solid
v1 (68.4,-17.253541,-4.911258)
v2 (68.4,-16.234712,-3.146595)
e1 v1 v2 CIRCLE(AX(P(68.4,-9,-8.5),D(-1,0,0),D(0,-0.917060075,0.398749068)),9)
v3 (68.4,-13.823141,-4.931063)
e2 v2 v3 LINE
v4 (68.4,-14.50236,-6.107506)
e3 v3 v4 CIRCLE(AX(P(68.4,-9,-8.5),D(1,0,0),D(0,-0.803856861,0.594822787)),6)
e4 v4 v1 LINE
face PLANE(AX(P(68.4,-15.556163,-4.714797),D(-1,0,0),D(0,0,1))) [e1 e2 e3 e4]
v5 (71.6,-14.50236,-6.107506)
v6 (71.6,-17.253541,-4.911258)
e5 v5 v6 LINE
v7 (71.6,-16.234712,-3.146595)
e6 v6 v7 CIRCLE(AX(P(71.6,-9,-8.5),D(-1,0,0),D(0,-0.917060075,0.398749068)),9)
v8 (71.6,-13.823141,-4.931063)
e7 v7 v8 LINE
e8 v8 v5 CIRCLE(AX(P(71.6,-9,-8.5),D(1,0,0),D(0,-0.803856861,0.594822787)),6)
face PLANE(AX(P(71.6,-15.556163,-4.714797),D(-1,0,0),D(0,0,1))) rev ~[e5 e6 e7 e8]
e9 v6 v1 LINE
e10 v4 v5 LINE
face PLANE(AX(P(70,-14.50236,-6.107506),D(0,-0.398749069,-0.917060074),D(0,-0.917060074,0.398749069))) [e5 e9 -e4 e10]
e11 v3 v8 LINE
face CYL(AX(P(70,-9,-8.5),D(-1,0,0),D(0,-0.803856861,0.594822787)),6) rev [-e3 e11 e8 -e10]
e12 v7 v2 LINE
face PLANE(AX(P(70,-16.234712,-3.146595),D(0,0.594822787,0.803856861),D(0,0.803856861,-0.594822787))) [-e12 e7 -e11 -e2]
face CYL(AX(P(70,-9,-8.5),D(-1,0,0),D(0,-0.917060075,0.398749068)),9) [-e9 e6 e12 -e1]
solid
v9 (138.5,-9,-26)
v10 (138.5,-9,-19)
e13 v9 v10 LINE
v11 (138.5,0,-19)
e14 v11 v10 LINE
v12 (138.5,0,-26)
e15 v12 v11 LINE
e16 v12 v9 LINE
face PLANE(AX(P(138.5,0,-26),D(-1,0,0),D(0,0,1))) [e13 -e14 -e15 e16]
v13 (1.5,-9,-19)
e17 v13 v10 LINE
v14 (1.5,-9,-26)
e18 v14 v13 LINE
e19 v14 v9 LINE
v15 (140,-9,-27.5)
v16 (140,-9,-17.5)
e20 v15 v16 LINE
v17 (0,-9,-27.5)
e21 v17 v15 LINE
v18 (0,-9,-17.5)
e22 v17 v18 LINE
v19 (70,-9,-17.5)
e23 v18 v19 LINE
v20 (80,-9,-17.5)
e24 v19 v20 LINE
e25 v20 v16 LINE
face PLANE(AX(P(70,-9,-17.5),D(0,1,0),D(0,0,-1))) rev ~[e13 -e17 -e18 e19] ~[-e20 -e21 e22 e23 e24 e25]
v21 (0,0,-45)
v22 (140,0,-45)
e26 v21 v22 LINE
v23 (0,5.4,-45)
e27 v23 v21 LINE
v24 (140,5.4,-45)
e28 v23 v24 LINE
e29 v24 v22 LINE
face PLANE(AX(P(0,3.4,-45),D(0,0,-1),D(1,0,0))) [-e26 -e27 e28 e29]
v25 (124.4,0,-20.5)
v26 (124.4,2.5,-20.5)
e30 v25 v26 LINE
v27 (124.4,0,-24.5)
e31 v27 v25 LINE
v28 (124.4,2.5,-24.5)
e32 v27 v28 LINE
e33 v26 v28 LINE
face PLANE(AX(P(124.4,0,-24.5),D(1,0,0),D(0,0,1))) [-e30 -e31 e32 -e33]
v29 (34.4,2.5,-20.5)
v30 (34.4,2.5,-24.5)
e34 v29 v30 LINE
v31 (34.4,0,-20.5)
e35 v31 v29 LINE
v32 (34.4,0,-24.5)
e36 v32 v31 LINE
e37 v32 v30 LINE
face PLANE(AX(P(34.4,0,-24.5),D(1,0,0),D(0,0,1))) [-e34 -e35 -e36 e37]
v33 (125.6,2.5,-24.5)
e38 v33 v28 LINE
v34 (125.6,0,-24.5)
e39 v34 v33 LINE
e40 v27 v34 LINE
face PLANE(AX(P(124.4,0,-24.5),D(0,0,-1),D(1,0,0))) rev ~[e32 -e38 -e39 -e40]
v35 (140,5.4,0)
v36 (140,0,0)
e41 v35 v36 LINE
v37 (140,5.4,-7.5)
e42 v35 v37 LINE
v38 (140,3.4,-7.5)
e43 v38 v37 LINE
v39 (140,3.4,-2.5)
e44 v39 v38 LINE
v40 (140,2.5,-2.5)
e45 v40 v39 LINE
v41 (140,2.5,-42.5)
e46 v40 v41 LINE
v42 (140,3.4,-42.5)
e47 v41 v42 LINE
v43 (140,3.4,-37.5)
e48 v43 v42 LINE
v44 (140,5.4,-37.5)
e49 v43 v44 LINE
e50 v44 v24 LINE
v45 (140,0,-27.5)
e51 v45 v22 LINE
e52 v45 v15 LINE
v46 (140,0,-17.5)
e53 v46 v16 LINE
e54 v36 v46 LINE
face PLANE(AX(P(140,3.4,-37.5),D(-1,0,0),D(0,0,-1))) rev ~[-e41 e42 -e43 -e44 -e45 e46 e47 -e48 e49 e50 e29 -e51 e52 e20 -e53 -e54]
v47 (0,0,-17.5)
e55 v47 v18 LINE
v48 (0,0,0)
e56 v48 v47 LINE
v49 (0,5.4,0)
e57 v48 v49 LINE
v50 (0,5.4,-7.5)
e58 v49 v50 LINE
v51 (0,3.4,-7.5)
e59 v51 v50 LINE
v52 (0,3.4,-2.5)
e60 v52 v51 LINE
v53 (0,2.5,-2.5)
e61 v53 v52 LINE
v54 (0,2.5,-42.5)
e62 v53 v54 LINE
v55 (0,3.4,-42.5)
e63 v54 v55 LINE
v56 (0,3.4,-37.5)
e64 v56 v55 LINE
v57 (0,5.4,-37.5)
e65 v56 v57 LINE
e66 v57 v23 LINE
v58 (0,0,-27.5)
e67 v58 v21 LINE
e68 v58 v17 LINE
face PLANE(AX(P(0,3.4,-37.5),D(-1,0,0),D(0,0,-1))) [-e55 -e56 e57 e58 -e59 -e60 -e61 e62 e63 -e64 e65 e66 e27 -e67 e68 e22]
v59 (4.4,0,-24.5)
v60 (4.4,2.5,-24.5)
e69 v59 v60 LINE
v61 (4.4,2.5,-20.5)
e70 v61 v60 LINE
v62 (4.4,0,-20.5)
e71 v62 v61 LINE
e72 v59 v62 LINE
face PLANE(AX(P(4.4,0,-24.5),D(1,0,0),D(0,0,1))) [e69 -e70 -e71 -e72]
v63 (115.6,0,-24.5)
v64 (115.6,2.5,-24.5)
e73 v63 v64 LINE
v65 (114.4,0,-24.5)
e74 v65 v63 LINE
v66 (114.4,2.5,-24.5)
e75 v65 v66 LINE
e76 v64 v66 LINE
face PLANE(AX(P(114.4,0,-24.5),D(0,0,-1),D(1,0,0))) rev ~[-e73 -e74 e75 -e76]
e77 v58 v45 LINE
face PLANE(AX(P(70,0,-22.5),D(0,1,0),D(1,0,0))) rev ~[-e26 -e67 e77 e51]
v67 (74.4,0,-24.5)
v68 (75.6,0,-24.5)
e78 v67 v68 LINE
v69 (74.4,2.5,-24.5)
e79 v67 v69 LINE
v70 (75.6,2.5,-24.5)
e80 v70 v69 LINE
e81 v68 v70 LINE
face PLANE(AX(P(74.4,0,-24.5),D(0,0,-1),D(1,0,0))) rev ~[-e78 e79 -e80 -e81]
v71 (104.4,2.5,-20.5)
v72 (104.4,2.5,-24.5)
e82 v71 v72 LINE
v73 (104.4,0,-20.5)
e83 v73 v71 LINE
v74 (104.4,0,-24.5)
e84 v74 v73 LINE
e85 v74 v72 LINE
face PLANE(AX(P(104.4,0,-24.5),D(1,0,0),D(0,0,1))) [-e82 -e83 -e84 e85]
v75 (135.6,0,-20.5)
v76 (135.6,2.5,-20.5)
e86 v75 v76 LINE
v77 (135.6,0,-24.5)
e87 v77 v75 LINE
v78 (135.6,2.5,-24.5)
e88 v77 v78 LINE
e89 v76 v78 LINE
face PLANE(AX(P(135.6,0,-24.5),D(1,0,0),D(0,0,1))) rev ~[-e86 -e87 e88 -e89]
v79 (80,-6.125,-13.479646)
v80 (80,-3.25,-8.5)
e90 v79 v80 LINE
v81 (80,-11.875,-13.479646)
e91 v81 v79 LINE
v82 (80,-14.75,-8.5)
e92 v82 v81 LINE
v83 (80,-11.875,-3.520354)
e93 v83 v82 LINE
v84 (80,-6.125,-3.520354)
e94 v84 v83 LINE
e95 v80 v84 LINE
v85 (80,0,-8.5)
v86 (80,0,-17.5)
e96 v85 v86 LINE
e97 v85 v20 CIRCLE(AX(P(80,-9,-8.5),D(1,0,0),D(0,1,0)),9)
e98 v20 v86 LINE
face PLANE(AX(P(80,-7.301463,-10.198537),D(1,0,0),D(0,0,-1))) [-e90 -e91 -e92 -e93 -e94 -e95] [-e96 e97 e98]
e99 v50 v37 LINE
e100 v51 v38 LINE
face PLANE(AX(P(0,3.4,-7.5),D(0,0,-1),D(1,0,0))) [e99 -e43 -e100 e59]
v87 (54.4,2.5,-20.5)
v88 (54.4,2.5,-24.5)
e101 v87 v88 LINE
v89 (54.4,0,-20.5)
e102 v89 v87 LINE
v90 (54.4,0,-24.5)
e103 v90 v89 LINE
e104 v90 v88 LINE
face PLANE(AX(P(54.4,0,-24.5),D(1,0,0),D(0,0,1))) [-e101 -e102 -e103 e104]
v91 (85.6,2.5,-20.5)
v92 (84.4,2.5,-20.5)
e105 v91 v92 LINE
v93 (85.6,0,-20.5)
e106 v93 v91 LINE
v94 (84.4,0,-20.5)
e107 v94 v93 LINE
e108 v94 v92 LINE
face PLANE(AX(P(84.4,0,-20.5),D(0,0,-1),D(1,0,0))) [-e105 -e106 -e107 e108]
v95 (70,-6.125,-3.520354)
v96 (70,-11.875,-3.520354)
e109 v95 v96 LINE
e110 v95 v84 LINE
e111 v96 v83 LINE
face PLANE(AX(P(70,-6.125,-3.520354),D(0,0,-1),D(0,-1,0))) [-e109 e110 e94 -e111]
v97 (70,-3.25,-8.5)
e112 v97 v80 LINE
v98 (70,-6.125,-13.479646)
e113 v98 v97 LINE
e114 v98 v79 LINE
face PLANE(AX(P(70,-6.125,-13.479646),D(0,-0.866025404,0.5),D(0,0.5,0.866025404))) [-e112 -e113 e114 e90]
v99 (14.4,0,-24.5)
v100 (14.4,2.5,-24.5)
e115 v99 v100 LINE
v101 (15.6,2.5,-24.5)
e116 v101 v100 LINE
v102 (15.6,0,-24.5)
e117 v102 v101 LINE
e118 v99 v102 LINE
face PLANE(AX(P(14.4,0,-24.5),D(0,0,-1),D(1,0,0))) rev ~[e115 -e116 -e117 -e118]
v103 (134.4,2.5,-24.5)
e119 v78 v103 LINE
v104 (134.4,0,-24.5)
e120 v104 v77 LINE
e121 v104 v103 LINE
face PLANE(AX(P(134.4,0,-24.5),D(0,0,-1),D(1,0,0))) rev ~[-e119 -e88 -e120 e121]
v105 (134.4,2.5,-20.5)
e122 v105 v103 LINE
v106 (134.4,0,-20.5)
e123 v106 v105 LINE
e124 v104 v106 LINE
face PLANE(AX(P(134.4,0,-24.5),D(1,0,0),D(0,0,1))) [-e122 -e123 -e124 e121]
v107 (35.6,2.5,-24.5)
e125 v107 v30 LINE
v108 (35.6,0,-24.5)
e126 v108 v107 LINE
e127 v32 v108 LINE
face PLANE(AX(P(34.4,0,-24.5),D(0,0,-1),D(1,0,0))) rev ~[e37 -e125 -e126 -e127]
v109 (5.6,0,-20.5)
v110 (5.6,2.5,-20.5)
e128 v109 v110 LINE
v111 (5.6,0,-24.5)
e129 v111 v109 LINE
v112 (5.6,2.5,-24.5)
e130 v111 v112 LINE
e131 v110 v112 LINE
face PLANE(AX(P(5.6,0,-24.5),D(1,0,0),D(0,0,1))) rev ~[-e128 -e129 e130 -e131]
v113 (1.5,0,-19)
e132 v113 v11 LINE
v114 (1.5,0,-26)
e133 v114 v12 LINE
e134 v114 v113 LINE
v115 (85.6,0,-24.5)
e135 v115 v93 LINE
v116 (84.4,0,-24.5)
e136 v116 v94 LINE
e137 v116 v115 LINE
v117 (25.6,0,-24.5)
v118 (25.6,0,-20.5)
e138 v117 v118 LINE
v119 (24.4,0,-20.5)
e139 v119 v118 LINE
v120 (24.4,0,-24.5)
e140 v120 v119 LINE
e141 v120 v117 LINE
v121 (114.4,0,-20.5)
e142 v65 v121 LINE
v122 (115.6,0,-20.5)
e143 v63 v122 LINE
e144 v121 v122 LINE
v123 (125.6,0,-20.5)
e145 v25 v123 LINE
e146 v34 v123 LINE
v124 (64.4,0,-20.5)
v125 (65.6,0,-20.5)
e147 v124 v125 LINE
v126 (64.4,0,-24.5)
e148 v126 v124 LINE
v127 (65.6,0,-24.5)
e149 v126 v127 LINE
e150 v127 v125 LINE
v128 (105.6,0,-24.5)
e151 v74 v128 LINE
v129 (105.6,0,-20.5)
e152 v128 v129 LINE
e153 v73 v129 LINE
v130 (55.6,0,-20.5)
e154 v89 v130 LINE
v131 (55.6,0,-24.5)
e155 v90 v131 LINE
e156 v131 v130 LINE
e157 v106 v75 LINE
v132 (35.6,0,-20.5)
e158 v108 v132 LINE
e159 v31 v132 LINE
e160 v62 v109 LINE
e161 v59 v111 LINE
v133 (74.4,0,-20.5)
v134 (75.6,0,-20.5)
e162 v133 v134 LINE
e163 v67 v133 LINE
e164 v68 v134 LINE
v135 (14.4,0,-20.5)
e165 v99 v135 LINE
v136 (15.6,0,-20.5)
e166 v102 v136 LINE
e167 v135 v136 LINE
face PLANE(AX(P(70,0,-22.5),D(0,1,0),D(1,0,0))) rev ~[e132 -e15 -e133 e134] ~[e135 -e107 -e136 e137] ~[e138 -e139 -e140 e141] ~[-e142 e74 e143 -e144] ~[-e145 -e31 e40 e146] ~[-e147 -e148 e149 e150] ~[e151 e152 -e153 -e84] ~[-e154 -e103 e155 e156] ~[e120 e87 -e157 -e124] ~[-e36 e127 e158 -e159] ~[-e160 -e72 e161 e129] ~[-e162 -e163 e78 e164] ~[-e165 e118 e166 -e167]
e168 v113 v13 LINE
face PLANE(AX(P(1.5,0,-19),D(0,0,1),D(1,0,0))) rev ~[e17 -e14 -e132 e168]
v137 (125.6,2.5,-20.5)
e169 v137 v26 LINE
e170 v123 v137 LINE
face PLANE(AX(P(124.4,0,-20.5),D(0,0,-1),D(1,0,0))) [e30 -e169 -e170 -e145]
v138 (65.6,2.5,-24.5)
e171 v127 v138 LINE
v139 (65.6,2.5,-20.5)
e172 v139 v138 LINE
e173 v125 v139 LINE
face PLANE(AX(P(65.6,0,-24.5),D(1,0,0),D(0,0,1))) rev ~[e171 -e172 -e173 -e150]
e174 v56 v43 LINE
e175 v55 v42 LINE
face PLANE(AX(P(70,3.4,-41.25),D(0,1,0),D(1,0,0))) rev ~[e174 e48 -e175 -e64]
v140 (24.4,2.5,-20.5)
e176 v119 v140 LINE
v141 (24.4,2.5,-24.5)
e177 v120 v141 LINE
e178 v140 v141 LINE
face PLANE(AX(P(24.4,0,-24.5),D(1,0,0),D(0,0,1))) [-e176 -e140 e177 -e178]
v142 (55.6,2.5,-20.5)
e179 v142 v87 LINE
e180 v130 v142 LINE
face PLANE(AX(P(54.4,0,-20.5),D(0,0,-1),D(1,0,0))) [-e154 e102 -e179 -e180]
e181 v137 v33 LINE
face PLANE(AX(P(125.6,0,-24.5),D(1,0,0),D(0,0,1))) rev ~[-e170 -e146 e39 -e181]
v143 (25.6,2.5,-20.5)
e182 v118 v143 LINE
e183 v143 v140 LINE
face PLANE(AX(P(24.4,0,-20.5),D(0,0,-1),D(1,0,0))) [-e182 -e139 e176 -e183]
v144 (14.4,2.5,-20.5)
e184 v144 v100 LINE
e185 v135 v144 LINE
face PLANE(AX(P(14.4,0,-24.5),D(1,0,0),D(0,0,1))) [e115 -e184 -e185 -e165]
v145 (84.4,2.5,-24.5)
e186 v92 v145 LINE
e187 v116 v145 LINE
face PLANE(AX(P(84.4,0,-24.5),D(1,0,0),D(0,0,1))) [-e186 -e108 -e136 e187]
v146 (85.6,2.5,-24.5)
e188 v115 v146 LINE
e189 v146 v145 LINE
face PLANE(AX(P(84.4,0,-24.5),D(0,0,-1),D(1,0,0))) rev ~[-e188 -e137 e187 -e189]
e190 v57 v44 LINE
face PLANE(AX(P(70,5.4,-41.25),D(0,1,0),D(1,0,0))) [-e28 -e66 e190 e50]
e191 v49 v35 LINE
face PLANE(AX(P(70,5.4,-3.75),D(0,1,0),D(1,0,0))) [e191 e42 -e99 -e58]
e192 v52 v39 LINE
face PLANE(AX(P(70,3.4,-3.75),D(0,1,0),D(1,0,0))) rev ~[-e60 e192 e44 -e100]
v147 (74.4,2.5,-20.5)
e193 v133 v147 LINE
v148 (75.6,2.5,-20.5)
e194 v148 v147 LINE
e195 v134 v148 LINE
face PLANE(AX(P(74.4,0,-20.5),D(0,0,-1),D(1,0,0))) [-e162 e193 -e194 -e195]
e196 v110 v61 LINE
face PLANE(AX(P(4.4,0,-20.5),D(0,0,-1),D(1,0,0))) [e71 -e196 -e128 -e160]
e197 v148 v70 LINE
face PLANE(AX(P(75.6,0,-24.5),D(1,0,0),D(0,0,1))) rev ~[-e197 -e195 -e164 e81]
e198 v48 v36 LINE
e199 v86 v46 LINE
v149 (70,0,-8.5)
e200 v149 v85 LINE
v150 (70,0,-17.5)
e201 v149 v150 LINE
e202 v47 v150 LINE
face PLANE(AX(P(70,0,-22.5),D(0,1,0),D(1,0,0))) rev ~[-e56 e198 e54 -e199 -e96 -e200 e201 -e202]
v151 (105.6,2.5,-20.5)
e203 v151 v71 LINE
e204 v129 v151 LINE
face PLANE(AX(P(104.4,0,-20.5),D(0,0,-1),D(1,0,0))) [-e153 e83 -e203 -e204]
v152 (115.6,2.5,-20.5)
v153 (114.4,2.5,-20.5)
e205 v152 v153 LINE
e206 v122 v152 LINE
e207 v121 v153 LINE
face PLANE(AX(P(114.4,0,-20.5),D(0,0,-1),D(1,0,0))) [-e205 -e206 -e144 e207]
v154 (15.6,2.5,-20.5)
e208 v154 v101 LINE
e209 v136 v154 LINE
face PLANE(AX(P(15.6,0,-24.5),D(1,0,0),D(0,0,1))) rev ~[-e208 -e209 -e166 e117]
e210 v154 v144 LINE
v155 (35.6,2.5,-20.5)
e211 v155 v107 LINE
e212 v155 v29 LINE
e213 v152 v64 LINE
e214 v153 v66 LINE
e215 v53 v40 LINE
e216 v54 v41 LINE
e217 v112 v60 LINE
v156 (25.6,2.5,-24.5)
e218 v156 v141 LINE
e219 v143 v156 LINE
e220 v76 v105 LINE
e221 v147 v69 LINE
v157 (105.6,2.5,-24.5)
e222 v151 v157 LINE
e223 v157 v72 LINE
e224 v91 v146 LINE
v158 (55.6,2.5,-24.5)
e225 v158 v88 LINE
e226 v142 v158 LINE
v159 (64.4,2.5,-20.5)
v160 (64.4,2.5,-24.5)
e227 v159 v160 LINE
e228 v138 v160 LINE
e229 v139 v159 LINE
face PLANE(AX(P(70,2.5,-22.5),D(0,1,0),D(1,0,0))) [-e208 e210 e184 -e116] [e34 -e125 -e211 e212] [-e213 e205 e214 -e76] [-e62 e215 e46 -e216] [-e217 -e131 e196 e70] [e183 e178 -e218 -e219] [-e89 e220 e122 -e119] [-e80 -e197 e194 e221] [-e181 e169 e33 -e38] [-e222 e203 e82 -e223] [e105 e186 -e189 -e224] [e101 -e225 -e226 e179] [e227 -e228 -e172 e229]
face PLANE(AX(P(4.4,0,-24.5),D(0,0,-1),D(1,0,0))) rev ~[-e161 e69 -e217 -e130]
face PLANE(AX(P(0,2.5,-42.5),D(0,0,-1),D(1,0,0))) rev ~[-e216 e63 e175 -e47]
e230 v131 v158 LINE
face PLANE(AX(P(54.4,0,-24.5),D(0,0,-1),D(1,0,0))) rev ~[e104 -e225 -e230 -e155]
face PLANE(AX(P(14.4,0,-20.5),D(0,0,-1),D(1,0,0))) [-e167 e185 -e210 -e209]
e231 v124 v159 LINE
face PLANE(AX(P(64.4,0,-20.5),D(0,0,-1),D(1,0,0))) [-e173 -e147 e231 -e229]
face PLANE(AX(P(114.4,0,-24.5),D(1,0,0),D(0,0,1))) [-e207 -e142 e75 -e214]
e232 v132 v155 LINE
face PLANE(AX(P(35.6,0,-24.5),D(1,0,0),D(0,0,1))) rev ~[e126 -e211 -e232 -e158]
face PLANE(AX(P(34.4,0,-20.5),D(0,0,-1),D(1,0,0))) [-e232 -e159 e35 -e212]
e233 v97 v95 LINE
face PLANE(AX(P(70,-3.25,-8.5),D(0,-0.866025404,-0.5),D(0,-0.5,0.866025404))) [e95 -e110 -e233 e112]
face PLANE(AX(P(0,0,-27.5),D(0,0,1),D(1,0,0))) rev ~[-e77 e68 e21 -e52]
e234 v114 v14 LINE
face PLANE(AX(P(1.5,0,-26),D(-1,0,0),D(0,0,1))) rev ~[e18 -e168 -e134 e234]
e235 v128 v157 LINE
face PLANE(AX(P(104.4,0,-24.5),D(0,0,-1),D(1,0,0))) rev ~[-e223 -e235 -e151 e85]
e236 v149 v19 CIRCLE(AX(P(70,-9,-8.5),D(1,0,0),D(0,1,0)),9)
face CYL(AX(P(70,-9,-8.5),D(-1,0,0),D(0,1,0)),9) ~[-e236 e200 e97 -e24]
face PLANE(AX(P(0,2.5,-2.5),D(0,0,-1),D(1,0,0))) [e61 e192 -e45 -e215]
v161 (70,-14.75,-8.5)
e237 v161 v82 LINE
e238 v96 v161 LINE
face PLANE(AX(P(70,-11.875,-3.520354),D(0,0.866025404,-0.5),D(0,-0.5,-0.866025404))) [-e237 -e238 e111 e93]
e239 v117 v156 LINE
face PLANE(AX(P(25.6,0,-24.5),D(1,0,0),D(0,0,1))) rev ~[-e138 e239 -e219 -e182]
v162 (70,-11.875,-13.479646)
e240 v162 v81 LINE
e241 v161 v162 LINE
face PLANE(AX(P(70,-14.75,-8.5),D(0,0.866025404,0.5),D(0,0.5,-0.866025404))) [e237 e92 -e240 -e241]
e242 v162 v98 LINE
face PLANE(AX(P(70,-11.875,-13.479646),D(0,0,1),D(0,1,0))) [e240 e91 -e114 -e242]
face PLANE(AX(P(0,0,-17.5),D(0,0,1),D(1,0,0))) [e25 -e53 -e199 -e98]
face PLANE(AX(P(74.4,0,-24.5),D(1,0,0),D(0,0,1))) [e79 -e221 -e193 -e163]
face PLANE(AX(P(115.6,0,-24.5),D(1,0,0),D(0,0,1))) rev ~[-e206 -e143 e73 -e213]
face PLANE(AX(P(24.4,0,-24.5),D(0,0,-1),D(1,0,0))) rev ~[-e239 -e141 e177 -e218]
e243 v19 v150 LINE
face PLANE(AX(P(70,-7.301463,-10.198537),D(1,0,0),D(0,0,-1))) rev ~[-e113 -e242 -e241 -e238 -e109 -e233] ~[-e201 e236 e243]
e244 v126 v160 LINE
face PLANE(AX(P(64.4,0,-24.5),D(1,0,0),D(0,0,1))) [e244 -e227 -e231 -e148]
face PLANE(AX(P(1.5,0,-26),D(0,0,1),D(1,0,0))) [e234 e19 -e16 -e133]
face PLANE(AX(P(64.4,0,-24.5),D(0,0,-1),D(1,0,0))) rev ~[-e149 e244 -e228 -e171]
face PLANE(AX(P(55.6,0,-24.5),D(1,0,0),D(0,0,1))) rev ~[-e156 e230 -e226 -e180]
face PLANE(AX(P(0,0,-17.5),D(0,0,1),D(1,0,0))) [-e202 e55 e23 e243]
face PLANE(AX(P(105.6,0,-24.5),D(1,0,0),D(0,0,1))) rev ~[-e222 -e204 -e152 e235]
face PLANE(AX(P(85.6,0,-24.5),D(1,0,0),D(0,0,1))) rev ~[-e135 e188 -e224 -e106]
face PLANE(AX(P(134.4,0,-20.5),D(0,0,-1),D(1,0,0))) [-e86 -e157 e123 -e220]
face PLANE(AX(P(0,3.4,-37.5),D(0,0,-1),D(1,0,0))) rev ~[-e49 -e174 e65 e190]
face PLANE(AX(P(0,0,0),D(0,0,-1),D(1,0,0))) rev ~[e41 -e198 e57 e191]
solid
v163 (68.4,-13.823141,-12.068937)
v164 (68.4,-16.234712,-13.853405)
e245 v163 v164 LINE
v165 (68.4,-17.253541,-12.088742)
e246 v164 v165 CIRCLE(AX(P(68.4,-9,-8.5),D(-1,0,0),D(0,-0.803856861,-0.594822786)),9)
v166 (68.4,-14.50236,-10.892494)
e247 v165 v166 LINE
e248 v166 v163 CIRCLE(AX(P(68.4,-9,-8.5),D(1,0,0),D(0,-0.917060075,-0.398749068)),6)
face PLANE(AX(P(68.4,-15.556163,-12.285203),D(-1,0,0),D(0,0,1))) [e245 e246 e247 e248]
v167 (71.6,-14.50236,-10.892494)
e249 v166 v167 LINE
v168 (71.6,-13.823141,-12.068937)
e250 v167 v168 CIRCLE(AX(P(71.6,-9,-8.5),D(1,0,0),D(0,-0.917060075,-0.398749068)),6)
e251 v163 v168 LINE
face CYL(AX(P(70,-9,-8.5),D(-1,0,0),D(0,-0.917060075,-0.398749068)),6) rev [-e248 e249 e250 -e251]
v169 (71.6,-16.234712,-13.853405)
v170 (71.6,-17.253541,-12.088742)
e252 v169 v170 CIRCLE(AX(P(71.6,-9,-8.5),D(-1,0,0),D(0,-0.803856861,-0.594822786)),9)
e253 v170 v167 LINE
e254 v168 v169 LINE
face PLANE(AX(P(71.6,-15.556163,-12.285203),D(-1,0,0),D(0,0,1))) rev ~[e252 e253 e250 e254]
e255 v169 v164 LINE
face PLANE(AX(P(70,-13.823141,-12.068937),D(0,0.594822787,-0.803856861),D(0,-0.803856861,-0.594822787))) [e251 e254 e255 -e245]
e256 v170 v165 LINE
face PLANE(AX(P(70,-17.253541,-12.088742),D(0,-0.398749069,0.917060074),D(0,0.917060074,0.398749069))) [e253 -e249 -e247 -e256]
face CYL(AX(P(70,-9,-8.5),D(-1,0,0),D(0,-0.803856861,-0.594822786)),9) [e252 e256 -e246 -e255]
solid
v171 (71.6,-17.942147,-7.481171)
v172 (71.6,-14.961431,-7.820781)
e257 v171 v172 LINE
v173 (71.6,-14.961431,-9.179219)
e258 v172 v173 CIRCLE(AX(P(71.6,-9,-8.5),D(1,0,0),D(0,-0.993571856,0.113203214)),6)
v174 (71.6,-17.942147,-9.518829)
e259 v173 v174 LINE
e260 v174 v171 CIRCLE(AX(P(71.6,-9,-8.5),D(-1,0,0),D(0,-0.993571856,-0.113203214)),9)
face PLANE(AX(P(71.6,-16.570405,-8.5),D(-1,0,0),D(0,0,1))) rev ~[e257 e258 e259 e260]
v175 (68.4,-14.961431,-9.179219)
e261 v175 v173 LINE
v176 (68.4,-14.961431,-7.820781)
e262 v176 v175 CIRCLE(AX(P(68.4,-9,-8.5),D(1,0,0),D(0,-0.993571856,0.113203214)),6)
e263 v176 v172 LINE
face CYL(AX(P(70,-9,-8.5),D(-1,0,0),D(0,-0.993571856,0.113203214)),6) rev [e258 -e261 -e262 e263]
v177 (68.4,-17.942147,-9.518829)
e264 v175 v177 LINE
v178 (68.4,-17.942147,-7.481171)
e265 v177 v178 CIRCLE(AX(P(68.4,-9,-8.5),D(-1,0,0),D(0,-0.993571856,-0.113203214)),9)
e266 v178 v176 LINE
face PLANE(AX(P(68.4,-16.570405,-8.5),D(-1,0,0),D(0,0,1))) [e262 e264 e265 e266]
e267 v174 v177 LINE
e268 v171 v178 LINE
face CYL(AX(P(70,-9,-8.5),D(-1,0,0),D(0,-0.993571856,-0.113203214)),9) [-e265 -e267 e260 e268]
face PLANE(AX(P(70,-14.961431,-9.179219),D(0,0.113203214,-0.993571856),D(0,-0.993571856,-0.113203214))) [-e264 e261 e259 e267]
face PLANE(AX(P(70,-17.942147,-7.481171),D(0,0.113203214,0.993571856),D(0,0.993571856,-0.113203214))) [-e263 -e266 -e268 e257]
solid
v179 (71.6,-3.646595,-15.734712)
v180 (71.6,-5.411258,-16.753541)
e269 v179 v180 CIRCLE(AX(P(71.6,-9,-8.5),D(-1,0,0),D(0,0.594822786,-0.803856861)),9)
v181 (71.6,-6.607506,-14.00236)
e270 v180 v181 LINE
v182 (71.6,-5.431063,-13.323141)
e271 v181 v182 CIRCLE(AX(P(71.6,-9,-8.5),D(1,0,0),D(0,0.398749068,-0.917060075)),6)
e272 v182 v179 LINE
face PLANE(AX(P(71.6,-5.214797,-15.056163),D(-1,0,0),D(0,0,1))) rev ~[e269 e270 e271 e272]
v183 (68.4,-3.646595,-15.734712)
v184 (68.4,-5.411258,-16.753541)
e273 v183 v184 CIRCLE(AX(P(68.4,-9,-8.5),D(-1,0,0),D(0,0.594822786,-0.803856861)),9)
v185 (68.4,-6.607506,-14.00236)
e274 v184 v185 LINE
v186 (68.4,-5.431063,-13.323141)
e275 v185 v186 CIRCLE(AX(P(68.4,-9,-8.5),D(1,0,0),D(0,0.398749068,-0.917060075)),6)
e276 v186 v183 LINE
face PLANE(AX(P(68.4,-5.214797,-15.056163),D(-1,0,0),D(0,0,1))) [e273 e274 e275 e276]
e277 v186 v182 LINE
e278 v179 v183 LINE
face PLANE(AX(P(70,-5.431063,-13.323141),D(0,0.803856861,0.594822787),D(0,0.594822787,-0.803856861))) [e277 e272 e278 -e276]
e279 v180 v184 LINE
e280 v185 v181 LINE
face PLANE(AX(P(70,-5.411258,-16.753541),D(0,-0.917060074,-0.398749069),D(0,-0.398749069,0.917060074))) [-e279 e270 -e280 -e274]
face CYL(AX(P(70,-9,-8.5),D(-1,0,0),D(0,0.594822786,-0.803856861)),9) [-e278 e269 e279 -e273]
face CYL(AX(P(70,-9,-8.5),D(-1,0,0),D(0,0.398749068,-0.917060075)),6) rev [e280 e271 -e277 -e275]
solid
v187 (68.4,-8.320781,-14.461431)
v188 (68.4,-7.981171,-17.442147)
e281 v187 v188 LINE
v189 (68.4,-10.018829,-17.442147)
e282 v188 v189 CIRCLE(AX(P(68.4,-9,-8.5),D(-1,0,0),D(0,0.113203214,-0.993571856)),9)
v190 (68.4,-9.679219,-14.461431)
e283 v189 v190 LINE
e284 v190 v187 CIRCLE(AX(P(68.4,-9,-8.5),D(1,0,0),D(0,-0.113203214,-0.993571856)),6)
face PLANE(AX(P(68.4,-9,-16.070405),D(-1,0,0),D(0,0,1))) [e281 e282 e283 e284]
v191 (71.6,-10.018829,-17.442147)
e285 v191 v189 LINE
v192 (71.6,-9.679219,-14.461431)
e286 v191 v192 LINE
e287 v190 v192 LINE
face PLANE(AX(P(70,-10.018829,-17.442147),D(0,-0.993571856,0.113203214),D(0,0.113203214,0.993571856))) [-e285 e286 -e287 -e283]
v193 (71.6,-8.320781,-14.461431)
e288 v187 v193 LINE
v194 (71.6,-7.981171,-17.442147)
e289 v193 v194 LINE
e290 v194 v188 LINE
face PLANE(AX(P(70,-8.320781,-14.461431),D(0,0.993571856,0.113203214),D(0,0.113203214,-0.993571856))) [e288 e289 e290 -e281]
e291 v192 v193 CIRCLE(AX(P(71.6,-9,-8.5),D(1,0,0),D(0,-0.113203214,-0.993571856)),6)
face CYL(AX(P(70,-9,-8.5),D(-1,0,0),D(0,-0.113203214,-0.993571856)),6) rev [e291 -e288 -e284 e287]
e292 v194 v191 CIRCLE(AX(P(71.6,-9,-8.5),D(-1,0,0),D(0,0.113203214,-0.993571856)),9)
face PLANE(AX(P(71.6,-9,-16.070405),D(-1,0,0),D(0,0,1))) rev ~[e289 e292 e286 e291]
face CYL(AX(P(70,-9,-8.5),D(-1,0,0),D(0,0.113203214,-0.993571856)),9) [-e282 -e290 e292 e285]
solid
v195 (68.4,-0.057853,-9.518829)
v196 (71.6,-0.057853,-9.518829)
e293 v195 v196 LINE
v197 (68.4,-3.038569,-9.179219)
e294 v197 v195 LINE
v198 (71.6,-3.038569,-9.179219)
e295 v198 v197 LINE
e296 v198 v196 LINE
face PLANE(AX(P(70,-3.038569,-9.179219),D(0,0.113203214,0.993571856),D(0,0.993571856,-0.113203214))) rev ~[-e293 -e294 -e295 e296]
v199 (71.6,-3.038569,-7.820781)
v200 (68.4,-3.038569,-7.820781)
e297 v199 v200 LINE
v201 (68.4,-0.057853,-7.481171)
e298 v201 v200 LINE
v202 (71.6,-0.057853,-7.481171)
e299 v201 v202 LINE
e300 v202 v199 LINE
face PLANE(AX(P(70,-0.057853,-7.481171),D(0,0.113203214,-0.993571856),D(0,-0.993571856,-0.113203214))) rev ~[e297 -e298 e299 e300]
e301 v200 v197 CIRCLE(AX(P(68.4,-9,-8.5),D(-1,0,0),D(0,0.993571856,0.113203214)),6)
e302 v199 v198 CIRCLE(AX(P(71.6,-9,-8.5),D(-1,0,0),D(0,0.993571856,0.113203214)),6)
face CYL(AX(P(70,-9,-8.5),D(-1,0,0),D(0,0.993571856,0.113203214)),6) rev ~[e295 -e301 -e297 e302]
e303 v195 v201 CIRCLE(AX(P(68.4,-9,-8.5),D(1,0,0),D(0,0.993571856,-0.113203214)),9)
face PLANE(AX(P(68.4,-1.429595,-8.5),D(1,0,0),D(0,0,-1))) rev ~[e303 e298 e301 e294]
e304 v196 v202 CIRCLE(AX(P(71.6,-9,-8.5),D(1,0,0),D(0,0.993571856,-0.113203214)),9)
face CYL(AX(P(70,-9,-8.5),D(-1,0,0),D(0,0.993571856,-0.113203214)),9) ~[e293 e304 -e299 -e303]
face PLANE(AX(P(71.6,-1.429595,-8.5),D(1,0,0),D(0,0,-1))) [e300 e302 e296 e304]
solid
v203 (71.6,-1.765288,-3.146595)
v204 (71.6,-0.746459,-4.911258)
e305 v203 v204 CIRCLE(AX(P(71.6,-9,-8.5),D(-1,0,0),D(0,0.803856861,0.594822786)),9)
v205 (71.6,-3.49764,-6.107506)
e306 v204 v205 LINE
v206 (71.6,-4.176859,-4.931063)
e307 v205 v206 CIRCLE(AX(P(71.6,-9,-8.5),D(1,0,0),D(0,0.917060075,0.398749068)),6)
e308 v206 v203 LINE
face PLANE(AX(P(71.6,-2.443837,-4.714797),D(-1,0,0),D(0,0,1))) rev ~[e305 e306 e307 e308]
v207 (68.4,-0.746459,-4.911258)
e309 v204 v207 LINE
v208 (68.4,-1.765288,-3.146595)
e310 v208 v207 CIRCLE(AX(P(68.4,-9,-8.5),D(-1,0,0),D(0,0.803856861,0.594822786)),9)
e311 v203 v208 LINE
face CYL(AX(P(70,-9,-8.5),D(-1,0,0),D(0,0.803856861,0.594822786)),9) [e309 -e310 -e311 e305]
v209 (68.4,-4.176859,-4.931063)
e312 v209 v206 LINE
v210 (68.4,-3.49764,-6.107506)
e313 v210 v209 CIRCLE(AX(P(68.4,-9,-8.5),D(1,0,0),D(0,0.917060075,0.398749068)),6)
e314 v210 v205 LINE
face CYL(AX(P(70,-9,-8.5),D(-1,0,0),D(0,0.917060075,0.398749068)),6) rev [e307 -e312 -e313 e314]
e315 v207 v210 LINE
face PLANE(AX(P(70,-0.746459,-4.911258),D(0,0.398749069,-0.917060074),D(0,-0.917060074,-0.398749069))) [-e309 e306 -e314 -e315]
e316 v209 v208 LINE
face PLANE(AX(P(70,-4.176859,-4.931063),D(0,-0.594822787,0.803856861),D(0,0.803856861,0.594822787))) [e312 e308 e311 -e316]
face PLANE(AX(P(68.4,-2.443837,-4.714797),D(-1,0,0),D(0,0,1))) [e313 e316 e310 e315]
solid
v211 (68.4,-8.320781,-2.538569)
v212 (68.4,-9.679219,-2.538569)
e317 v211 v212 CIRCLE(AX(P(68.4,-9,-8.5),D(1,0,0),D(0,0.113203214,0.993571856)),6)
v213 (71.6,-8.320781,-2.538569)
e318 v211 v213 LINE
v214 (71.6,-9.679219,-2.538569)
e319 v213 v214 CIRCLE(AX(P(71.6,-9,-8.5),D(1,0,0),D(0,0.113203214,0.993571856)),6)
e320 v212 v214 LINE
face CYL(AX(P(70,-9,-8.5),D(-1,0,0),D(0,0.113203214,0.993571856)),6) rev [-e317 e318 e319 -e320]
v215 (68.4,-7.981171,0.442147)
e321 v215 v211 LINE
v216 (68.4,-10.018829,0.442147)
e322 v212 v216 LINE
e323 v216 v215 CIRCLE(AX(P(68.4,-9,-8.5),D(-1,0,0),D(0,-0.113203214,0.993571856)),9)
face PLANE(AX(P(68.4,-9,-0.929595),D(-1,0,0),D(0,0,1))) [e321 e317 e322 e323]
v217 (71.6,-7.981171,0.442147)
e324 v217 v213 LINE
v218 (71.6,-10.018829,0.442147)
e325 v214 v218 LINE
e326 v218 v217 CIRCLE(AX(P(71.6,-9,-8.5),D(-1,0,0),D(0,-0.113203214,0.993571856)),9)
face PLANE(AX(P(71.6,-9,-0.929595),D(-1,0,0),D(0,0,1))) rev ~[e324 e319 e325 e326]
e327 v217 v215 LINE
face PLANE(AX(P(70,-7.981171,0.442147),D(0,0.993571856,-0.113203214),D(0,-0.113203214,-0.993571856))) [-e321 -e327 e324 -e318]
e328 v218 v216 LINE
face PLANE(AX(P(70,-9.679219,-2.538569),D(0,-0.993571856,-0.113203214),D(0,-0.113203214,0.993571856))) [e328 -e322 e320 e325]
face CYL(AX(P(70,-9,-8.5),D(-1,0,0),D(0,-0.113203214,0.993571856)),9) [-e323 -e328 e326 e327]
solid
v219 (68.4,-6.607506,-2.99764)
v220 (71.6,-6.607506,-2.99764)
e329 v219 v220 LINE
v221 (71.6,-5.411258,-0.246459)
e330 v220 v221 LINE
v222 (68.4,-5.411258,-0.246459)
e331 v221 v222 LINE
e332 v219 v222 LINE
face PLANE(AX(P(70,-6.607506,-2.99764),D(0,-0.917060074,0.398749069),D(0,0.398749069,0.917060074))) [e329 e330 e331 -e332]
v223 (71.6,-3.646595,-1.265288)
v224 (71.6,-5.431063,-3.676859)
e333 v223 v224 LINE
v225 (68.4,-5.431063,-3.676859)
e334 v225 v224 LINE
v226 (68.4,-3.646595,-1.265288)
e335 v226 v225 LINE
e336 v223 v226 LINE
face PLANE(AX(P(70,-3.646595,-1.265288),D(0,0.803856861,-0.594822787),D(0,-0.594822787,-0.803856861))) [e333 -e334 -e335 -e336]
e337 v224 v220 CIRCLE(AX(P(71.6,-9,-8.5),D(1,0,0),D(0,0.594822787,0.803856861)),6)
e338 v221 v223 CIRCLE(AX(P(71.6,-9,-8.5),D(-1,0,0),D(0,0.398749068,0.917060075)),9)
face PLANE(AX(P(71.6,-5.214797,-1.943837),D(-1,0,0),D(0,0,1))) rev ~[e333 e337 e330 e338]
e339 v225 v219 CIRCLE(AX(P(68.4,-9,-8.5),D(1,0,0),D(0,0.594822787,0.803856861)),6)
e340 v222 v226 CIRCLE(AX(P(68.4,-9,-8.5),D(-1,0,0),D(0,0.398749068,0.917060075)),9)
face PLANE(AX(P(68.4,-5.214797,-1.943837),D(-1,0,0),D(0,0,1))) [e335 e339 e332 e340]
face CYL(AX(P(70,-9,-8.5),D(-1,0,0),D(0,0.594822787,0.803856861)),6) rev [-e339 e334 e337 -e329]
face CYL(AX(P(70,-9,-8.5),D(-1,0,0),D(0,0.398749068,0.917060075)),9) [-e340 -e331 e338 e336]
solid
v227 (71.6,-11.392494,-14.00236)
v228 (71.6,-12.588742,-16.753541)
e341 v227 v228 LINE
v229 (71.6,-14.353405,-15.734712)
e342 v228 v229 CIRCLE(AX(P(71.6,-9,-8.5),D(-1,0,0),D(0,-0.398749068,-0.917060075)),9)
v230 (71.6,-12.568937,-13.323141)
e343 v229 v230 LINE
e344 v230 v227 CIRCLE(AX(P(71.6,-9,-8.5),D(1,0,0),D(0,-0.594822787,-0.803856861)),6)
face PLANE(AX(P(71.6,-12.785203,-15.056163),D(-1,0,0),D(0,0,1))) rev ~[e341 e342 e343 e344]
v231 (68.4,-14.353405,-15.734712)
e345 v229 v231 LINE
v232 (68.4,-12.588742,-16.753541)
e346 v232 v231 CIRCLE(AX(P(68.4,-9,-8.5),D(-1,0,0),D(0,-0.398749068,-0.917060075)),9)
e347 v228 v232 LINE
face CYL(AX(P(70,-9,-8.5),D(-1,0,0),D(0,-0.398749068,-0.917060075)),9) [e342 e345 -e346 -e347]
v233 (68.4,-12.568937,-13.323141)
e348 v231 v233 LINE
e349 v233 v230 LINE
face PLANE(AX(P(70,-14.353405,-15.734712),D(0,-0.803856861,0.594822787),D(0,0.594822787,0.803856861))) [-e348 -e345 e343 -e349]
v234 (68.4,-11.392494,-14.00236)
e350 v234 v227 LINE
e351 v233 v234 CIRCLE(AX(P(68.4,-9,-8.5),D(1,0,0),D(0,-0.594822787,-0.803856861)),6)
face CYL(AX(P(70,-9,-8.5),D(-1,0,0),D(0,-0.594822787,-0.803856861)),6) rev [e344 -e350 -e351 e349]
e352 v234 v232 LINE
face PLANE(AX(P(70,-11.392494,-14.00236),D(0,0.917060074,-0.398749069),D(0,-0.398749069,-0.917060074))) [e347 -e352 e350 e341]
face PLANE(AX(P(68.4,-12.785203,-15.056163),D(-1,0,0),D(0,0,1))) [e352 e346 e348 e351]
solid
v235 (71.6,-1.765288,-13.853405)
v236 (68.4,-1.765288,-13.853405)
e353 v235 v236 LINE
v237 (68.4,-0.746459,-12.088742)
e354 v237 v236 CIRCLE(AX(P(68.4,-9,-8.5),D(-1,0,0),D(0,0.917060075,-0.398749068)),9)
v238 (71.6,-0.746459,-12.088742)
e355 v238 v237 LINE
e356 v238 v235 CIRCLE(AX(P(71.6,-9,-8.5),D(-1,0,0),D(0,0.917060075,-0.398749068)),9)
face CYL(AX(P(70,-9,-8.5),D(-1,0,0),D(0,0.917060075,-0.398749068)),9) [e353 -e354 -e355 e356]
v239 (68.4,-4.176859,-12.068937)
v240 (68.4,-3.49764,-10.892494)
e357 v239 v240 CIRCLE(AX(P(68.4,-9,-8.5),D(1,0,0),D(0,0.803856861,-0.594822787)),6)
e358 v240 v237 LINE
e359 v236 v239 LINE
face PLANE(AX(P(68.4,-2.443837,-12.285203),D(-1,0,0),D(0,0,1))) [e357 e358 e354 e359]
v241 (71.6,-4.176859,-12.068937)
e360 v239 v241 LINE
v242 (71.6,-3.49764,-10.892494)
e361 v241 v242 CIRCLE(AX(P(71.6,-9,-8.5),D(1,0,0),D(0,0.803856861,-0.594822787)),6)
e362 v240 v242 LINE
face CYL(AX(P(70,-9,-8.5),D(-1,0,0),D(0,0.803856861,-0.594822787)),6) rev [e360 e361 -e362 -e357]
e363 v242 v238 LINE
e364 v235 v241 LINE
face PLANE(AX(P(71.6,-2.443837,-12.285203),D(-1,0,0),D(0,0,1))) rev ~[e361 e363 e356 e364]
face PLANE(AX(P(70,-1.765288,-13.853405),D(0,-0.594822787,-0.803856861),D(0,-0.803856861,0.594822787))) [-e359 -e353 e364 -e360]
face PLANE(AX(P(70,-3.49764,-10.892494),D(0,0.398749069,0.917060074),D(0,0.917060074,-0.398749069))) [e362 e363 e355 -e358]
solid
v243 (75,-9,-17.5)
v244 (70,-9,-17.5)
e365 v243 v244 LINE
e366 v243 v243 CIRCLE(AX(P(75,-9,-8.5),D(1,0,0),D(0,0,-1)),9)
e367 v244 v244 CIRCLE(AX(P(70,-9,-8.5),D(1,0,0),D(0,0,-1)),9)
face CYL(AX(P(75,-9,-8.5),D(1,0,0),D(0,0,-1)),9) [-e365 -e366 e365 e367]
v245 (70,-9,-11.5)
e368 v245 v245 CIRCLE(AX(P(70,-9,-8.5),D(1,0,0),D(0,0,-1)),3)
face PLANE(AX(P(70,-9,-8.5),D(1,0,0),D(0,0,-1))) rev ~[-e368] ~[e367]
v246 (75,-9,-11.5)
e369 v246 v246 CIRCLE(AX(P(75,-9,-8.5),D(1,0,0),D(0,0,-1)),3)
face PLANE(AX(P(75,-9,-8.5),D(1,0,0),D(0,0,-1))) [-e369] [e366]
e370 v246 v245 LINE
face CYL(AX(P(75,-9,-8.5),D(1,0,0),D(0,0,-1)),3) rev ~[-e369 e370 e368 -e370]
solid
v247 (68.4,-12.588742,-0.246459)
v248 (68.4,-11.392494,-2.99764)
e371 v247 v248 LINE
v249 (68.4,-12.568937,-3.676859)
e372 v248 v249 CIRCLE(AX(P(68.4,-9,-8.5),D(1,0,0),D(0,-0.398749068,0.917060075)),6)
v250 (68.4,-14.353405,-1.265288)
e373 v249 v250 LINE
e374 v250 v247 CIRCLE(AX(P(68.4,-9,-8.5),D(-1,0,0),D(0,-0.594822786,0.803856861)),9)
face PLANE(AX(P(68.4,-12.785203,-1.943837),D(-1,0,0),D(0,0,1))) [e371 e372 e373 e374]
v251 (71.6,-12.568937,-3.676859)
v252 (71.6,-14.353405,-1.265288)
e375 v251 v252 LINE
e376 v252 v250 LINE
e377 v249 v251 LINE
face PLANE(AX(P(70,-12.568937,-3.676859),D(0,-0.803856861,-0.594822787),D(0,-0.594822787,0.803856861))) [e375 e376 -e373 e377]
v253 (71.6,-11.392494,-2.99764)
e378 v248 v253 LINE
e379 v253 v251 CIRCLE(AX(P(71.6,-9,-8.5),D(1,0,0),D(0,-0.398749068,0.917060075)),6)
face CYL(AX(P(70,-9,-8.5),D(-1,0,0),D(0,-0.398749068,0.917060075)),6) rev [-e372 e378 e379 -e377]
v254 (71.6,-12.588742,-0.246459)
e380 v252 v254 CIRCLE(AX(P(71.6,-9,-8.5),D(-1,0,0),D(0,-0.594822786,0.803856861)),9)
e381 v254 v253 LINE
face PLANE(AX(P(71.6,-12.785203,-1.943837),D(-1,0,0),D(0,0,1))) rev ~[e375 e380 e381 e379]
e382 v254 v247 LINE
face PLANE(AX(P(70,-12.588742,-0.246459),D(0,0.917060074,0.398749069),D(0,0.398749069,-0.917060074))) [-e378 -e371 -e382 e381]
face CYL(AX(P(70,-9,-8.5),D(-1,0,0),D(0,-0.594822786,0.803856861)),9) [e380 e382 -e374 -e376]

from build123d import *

# Parameters (mm, degrees)
CROQUIS1_W                  = 140
CROQUIS1_H                  = 45
SALIENTE_EXTRUIR1_DEPTH     = 2.5
CROQUIS2_W                  = 140
CROQUIS2_H                  = 2.5
SALIENTE_EXTRUIR2_DEPTH     = 0.9
CROQUIS3_W                  = 140
CROQUIS3_H                  = 7.5
SALIENTE_EXTRUIR3_DEPTH     = 2
CROQUIS4_W                  = 140
CROQUIS4_H                  = 10
CROQUIS4_W_2                = 137
CROQUIS4_H_2                = 7
SALIENTE_EXTRUIR4_DEPTH     = 9
SALIENTE_EXTRUIR5_DEPTH     = 10
SALIENTE_EXTRUIR20_DEPTH    = 1.6
SALIENTE_EXTRUIR20_2_DEPTH  = 1.6
SALIENTE_EXTRUIR20_3_DEPTH  = 1.6
SALIENTE_EXTRUIR20_4_DEPTH  = 1.6
SALIENTE_EXTRUIR20_5_DEPTH  = 1.6
SALIENTE_EXTRUIR20_6_DEPTH  = 1.6
SALIENTE_EXTRUIR20_7_DEPTH  = 1.6
SALIENTE_EXTRUIR20_8_DEPTH  = 1.6
SALIENTE_EXTRUIR20_9_DEPTH  = 1.6
SALIENTE_EXTRUIR20_10_DEPTH = 1.6
SALIENTE_EXTRUIR20_11_DEPTH = 1.6
SALIENTE_EXTRUIR20_12_DEPTH = 1.6
CROQUIS9_R                  = 9
CROQUIS9_R_2                = 3
SALIENTE_EXTRUIR24_DEPTH    = 5
CROQUIS10_W                 = 1.2
CROQUIS10_H                 = 4
CORTAR_EXTRUIR1_DEPTH       = 10
CROQUIS12_W                 = 1.2
CROQUIS12_H                 = 4
CORTAR_EXTRUIR2_DEPTH       = 10


with BuildPart() as part:
    # Croquis1 → Saliente-Extruir1 (new body)
    with BuildSketch(Plane(origin=(0, 0, 0), x_dir=(1, 0, 0), z_dir=(0, 1, 0))):
        with Locations((70, 22.5)):
            Rectangle(CROQUIS1_W, CROQUIS1_H)
    extrude(amount=SALIENTE_EXTRUIR1_DEPTH)

    # Croquis2 → Saliente-Extruir2 (add)
    with BuildSketch(Plane(origin=(0, 2.5, 0), x_dir=(1, 0, 0), z_dir=(0, 1, 0))):
        with Locations((70, 43.75)):
            Rectangle(CROQUIS2_W, CROQUIS2_H)
        with Locations((70, 1.25)):
            Rectangle(CROQUIS2_W, CROQUIS2_H)
    extrude(amount=SALIENTE_EXTRUIR2_DEPTH)

    # Croquis3 → Saliente-Extruir3 (add)
    with BuildSketch(Plane(origin=(0, 3.4, 0), x_dir=(1, 0, 0), z_dir=(0, 1, 0))):
        with Locations((70, 41.25)):
            Rectangle(CROQUIS3_W, CROQUIS3_H)
        with Locations((70, 3.75)):
            Rectangle(CROQUIS3_W, CROQUIS3_H)
    extrude(amount=SALIENTE_EXTRUIR3_DEPTH)

    # Croquis4 → Saliente-Extruir4 (add)
    with BuildSketch(Plane.XZ):
        with Locations((70, -22.5)):
            Rectangle(CROQUIS4_W, CROQUIS4_H)
        with Locations((70, -22.5)):
            Rectangle(CROQUIS4_W_2, CROQUIS4_H_2, mode=Mode.SUBTRACT)
    extrude(amount=SALIENTE_EXTRUIR4_DEPTH)

    # Croquis6 → Saliente-Extruir5 (add)
    with BuildSketch(Plane(origin=(70, 0, 0), x_dir=(0, 0, -1), z_dir=(1, 0, 0))):
        with BuildLine():
            Line((17.5, -9), (18.5, -9))
            Line((18.5, -9), (18.5, 1))
            Line((18.5, 1), (8.5, 1))
            Line((8.5, 1), (8.5, 0))
            ThreePointArc((8.5, 0), (2.136038969, -15.363961031), (17.5, -9))
        make_face()
        Polygon((8.5, -14.75), (13.479646072, -11.875), (13.479646072, -6.125), (8.5, -3.25), (3.520353928, -6.125), (3.520353928, -11.875), align=None, mode=Mode.SUBTRACT)
    extrude(amount=SALIENTE_EXTRUIR5_DEPTH)

    # Croquis10 → Cortar-Extruir1 (cut)
    with BuildSketch(Plane.XZ):
        with Locations((35, -22.5)):
            Rectangle(CROQUIS10_W, CROQUIS10_H)
        with Locations((25, -22.5)):
            Rectangle(CROQUIS10_W, CROQUIS10_H)
        with Locations((15, -22.5)):
            Rectangle(CROQUIS10_W, CROQUIS10_H)
        with Locations((5, -22.5)):
            Rectangle(CROQUIS10_W, CROQUIS10_H)
        with Locations((135, -22.5)):
            Rectangle(CROQUIS10_W, CROQUIS10_H)
        with Locations((125, -22.5)):
            Rectangle(CROQUIS10_W, CROQUIS10_H)
        with Locations((115, -22.5)):
            Rectangle(CROQUIS10_W, CROQUIS10_H)
        with Locations((105, -22.5)):
            Rectangle(CROQUIS10_W, CROQUIS10_H)
    extrude(amount=-CORTAR_EXTRUIR1_DEPTH, mode=Mode.SUBTRACT)

    # Croquis12 → Cortar-Extruir2 (cut)
    with BuildSketch(Plane.XZ):
        with Locations((85, -22.5)):
            Rectangle(CROQUIS12_W, CROQUIS12_H)
        with Locations((75, -22.5)):
            Rectangle(CROQUIS12_W, CROQUIS12_H)
        with Locations((65, -22.5)):
            Rectangle(CROQUIS12_W, CROQUIS12_H)
        with Locations((55, -22.5)):
            Rectangle(CROQUIS12_W, CROQUIS12_H)
    extrude(amount=-CORTAR_EXTRUIR2_DEPTH, mode=Mode.SUBTRACT)


with BuildPart() as body_2:
    # Croquis7 → Saliente-Extruir20 (new, symmetric)
    with BuildSketch(Plane.ZY.offset(-70)):
        with BuildLine():
            Line((-9.179219283, -3.038568866), (-9.518828924, -0.057853299))
            ThreePointArc((-9.518828924, -0.057853299), (-8.5, 0), (-7.481171076, -0.057853299))
            Line((-7.481171076, -0.057853299), (-7.820780717, -3.038568866))
            ThreePointArc((-7.820780717, -3.038568866), (-8.5, -3), (-9.179219283, -3.038568866))
        make_face()
    extrude(amount=SALIENTE_EXTRUIR20_DEPTH, both=True)


with BuildPart() as body_3:
    # Croquis7 → Saliente-Extruir20 2 (new, symmetric)
    with BuildSketch(Plane.ZY.offset(-70)):
        with BuildLine():
            Line((-4.931063279, -4.176858836), (-3.146594919, -1.765288254))
            ThreePointArc((-3.146594919, -1.765288254), (-4, -1.205771366), (-4.91125838, -0.746459331))
            Line((-4.91125838, -0.746459331), (-6.107505586, -3.497639554))
            ThreePointArc((-6.107505586, -3.497639554), (-5.5, -3.803847577), (-4.931063279, -4.176858836))
        make_face()
    extrude(amount=SALIENTE_EXTRUIR20_2_DEPTH, both=True)


with BuildPart() as body_4:
    # Croquis7 → Saliente-Extruir20 3 (new, symmetric)
    with BuildSketch(Plane.ZY.offset(-70)):
        with BuildLine():
            Line((-2.997639554, -6.607505586), (-0.246459331, -5.41125838))
            ThreePointArc((-0.246459331, -5.41125838), (-0.705771366, -4.5), (-1.265288254, -3.646594919))
            Line((-1.265288254, -3.646594919), (-3.676858836, -5.431063279))
            ThreePointArc((-3.676858836, -5.431063279), (-3.303847577, -6), (-2.997639554, -6.607505586))
        make_face()
    extrude(amount=SALIENTE_EXTRUIR20_3_DEPTH, both=True)


with BuildPart() as body_5:
    # Croquis7 → Saliente-Extruir20 4 (new, symmetric)
    with BuildSketch(Plane.ZY.offset(-70)):
        with BuildLine():
            Line((-2.538568866, -9.679219283), (0.442146701, -10.018828924))
            ThreePointArc((0.442146701, -10.018828924), (0.5, -9), (0.442146701, -7.981171076))
            Line((0.442146701, -7.981171076), (-2.538568866, -8.320780717))
            ThreePointArc((-2.538568866, -8.320780717), (-2.5, -9), (-2.538568866, -9.679219283))
        make_face()
    extrude(amount=SALIENTE_EXTRUIR20_4_DEPTH, both=True)


with BuildPart() as body_6:
    # Croquis7 → Saliente-Extruir20 5 (new, symmetric)
    with BuildSketch(Plane.ZY.offset(-70)):
        with BuildLine():
            Line((-3.676858836, -12.568936721), (-1.265288254, -14.353405081))
            ThreePointArc((-1.265288254, -14.353405081), (-0.705771366, -13.5), (-0.246459331, -12.58874162))
            Line((-0.246459331, -12.58874162), (-2.997639554, -11.392494414))
            ThreePointArc((-2.997639554, -11.392494414), (-3.303847577, -12), (-3.676858836, -12.568936721))
        make_face()
    extrude(amount=SALIENTE_EXTRUIR20_5_DEPTH, both=True)


with BuildPart() as body_7:
    # Croquis7 → Saliente-Extruir20 6 (new, symmetric)
    with BuildSketch(Plane.ZY.offset(-70)):
        with BuildLine():
            Line((-6.107505586, -14.502360446), (-4.91125838, -17.253540669))
            ThreePointArc((-4.91125838, -17.253540669), (-4, -16.794228634), (-3.146594919, -16.234711746))
            Line((-3.146594919, -16.234711746), (-4.931063279, -13.823141164))
            ThreePointArc((-4.931063279, -13.823141164), (-5.5, -14.196152423), (-6.107505586, -14.502360446))
        make_face()
    extrude(amount=SALIENTE_EXTRUIR20_6_DEPTH, both=True)


with BuildPart() as body_8:
    # Croquis7 → Saliente-Extruir20 7 (new, symmetric)
    with BuildSketch(Plane.ZY.offset(-70)):
        with BuildLine():
            Line((-9.179219283, -14.961431134), (-9.518828924, -17.942146701))
            ThreePointArc((-9.518828924, -17.942146701), (-8.5, -18), (-7.481171076, -17.942146701))
            Line((-7.481171076, -17.942146701), (-7.820780717, -14.961431134))
            ThreePointArc((-7.820780717, -14.961431134), (-8.5, -15), (-9.179219283, -14.961431134))
        make_face()
    extrude(amount=SALIENTE_EXTRUIR20_7_DEPTH, both=True)


with BuildPart() as body_9:
    # Croquis7 → Saliente-Extruir20 8 (new, symmetric)
    with BuildSketch(Plane.ZY.offset(-70)):
        with BuildLine():
            Line((-12.068936721, -13.823141164), (-13.853405081, -16.234711746))
            ThreePointArc((-13.853405081, -16.234711746), (-13, -16.794228634), (-12.08874162, -17.253540669))
            Line((-12.08874162, -17.253540669), (-10.892494414, -14.502360446))
            ThreePointArc((-10.892494414, -14.502360446), (-11.5, -14.196152423), (-12.068936721, -13.823141164))
        make_face()
    extrude(amount=SALIENTE_EXTRUIR20_8_DEPTH, both=True)


with BuildPart() as body_10:
    # Croquis7 → Saliente-Extruir20 9 (new, symmetric)
    with BuildSketch(Plane.ZY.offset(-70)):
        with BuildLine():
            Line((-14.002360446, -11.392494414), (-16.753540669, -12.58874162))
            ThreePointArc((-16.753540669, -12.58874162), (-16.294228634, -13.5), (-15.734711746, -14.353405081))
            Line((-15.734711746, -14.353405081), (-13.323141164, -12.568936721))
            ThreePointArc((-13.323141164, -12.568936721), (-13.696152423, -12), (-14.002360446, -11.392494414))
        make_face()
    extrude(amount=SALIENTE_EXTRUIR20_9_DEPTH, both=True)


with BuildPart() as body_11:
    # Croquis7 → Saliente-Extruir20 10 (new, symmetric)
    with BuildSketch(Plane.ZY.offset(-70)):
        with BuildLine():
            Line((-14.461431134, -8.320780717), (-17.442146701, -7.981171076))
            ThreePointArc((-17.442146701, -7.981171076), (-17.5, -9), (-17.442146701, -10.018828924))
            Line((-17.442146701, -10.018828924), (-14.461431134, -9.679219283))
            ThreePointArc((-14.461431134, -9.679219283), (-14.5, -9), (-14.461431134, -8.320780717))
        make_face()
    extrude(amount=SALIENTE_EXTRUIR20_10_DEPTH, both=True)


with BuildPart() as body_12:
    # Croquis7 → Saliente-Extruir20 11 (new, symmetric)
    with BuildSketch(Plane.ZY.offset(-70)):
        with BuildLine():
            Line((-13.323141164, -5.431063279), (-15.734711746, -3.646594919))
            ThreePointArc((-15.734711746, -3.646594919), (-16.294228634, -4.5), (-16.753540669, -5.41125838))
            Line((-16.753540669, -5.41125838), (-14.002360446, -6.607505586))
            ThreePointArc((-14.002360446, -6.607505586), (-13.696152423, -6), (-13.323141164, -5.431063279))
        make_face()
    extrude(amount=SALIENTE_EXTRUIR20_11_DEPTH, both=True)


with BuildPart() as body_13:
    # Croquis7 → Saliente-Extruir20 12 (new, symmetric)
    with BuildSketch(Plane.ZY.offset(-70)):
        with BuildLine():
            Line((-10.892494414, -3.497639554), (-12.08874162, -0.746459331))
            ThreePointArc((-12.08874162, -0.746459331), (-13, -1.205771366), (-13.853405081, -1.765288254))
            Line((-13.853405081, -1.765288254), (-12.068936721, -4.176858836))
            ThreePointArc((-12.068936721, -4.176858836), (-11.5, -3.803847577), (-10.892494414, -3.497639554))
        make_face()
    extrude(amount=SALIENTE_EXTRUIR20_12_DEPTH, both=True)


with BuildPart() as body_14:
    # Croquis9 → Saliente-Extruir24 (new body)
    with BuildSketch(Plane(origin=(75, 0, 0), x_dir=(0, 0, -1), z_dir=(1, 0, 0))):
        with Locations((8.5, -9)):
            Circle(CROQUIS9_R)
        with Locations((8.5, -9)):
            Circle(CROQUIS9_R_2, mode=Mode.SUBTRACT)
    extrude(amount=-SALIENTE_EXTRUIR24_DEPTH)


solid = Compound([part.part, body_2.part, body_3.part, body_4.part, body_5.part, body_6.part, body_7.part, body_8.part, body_9.part, body_10.part, body_11.part, body_12.part, body_13.part, body_14.part])
